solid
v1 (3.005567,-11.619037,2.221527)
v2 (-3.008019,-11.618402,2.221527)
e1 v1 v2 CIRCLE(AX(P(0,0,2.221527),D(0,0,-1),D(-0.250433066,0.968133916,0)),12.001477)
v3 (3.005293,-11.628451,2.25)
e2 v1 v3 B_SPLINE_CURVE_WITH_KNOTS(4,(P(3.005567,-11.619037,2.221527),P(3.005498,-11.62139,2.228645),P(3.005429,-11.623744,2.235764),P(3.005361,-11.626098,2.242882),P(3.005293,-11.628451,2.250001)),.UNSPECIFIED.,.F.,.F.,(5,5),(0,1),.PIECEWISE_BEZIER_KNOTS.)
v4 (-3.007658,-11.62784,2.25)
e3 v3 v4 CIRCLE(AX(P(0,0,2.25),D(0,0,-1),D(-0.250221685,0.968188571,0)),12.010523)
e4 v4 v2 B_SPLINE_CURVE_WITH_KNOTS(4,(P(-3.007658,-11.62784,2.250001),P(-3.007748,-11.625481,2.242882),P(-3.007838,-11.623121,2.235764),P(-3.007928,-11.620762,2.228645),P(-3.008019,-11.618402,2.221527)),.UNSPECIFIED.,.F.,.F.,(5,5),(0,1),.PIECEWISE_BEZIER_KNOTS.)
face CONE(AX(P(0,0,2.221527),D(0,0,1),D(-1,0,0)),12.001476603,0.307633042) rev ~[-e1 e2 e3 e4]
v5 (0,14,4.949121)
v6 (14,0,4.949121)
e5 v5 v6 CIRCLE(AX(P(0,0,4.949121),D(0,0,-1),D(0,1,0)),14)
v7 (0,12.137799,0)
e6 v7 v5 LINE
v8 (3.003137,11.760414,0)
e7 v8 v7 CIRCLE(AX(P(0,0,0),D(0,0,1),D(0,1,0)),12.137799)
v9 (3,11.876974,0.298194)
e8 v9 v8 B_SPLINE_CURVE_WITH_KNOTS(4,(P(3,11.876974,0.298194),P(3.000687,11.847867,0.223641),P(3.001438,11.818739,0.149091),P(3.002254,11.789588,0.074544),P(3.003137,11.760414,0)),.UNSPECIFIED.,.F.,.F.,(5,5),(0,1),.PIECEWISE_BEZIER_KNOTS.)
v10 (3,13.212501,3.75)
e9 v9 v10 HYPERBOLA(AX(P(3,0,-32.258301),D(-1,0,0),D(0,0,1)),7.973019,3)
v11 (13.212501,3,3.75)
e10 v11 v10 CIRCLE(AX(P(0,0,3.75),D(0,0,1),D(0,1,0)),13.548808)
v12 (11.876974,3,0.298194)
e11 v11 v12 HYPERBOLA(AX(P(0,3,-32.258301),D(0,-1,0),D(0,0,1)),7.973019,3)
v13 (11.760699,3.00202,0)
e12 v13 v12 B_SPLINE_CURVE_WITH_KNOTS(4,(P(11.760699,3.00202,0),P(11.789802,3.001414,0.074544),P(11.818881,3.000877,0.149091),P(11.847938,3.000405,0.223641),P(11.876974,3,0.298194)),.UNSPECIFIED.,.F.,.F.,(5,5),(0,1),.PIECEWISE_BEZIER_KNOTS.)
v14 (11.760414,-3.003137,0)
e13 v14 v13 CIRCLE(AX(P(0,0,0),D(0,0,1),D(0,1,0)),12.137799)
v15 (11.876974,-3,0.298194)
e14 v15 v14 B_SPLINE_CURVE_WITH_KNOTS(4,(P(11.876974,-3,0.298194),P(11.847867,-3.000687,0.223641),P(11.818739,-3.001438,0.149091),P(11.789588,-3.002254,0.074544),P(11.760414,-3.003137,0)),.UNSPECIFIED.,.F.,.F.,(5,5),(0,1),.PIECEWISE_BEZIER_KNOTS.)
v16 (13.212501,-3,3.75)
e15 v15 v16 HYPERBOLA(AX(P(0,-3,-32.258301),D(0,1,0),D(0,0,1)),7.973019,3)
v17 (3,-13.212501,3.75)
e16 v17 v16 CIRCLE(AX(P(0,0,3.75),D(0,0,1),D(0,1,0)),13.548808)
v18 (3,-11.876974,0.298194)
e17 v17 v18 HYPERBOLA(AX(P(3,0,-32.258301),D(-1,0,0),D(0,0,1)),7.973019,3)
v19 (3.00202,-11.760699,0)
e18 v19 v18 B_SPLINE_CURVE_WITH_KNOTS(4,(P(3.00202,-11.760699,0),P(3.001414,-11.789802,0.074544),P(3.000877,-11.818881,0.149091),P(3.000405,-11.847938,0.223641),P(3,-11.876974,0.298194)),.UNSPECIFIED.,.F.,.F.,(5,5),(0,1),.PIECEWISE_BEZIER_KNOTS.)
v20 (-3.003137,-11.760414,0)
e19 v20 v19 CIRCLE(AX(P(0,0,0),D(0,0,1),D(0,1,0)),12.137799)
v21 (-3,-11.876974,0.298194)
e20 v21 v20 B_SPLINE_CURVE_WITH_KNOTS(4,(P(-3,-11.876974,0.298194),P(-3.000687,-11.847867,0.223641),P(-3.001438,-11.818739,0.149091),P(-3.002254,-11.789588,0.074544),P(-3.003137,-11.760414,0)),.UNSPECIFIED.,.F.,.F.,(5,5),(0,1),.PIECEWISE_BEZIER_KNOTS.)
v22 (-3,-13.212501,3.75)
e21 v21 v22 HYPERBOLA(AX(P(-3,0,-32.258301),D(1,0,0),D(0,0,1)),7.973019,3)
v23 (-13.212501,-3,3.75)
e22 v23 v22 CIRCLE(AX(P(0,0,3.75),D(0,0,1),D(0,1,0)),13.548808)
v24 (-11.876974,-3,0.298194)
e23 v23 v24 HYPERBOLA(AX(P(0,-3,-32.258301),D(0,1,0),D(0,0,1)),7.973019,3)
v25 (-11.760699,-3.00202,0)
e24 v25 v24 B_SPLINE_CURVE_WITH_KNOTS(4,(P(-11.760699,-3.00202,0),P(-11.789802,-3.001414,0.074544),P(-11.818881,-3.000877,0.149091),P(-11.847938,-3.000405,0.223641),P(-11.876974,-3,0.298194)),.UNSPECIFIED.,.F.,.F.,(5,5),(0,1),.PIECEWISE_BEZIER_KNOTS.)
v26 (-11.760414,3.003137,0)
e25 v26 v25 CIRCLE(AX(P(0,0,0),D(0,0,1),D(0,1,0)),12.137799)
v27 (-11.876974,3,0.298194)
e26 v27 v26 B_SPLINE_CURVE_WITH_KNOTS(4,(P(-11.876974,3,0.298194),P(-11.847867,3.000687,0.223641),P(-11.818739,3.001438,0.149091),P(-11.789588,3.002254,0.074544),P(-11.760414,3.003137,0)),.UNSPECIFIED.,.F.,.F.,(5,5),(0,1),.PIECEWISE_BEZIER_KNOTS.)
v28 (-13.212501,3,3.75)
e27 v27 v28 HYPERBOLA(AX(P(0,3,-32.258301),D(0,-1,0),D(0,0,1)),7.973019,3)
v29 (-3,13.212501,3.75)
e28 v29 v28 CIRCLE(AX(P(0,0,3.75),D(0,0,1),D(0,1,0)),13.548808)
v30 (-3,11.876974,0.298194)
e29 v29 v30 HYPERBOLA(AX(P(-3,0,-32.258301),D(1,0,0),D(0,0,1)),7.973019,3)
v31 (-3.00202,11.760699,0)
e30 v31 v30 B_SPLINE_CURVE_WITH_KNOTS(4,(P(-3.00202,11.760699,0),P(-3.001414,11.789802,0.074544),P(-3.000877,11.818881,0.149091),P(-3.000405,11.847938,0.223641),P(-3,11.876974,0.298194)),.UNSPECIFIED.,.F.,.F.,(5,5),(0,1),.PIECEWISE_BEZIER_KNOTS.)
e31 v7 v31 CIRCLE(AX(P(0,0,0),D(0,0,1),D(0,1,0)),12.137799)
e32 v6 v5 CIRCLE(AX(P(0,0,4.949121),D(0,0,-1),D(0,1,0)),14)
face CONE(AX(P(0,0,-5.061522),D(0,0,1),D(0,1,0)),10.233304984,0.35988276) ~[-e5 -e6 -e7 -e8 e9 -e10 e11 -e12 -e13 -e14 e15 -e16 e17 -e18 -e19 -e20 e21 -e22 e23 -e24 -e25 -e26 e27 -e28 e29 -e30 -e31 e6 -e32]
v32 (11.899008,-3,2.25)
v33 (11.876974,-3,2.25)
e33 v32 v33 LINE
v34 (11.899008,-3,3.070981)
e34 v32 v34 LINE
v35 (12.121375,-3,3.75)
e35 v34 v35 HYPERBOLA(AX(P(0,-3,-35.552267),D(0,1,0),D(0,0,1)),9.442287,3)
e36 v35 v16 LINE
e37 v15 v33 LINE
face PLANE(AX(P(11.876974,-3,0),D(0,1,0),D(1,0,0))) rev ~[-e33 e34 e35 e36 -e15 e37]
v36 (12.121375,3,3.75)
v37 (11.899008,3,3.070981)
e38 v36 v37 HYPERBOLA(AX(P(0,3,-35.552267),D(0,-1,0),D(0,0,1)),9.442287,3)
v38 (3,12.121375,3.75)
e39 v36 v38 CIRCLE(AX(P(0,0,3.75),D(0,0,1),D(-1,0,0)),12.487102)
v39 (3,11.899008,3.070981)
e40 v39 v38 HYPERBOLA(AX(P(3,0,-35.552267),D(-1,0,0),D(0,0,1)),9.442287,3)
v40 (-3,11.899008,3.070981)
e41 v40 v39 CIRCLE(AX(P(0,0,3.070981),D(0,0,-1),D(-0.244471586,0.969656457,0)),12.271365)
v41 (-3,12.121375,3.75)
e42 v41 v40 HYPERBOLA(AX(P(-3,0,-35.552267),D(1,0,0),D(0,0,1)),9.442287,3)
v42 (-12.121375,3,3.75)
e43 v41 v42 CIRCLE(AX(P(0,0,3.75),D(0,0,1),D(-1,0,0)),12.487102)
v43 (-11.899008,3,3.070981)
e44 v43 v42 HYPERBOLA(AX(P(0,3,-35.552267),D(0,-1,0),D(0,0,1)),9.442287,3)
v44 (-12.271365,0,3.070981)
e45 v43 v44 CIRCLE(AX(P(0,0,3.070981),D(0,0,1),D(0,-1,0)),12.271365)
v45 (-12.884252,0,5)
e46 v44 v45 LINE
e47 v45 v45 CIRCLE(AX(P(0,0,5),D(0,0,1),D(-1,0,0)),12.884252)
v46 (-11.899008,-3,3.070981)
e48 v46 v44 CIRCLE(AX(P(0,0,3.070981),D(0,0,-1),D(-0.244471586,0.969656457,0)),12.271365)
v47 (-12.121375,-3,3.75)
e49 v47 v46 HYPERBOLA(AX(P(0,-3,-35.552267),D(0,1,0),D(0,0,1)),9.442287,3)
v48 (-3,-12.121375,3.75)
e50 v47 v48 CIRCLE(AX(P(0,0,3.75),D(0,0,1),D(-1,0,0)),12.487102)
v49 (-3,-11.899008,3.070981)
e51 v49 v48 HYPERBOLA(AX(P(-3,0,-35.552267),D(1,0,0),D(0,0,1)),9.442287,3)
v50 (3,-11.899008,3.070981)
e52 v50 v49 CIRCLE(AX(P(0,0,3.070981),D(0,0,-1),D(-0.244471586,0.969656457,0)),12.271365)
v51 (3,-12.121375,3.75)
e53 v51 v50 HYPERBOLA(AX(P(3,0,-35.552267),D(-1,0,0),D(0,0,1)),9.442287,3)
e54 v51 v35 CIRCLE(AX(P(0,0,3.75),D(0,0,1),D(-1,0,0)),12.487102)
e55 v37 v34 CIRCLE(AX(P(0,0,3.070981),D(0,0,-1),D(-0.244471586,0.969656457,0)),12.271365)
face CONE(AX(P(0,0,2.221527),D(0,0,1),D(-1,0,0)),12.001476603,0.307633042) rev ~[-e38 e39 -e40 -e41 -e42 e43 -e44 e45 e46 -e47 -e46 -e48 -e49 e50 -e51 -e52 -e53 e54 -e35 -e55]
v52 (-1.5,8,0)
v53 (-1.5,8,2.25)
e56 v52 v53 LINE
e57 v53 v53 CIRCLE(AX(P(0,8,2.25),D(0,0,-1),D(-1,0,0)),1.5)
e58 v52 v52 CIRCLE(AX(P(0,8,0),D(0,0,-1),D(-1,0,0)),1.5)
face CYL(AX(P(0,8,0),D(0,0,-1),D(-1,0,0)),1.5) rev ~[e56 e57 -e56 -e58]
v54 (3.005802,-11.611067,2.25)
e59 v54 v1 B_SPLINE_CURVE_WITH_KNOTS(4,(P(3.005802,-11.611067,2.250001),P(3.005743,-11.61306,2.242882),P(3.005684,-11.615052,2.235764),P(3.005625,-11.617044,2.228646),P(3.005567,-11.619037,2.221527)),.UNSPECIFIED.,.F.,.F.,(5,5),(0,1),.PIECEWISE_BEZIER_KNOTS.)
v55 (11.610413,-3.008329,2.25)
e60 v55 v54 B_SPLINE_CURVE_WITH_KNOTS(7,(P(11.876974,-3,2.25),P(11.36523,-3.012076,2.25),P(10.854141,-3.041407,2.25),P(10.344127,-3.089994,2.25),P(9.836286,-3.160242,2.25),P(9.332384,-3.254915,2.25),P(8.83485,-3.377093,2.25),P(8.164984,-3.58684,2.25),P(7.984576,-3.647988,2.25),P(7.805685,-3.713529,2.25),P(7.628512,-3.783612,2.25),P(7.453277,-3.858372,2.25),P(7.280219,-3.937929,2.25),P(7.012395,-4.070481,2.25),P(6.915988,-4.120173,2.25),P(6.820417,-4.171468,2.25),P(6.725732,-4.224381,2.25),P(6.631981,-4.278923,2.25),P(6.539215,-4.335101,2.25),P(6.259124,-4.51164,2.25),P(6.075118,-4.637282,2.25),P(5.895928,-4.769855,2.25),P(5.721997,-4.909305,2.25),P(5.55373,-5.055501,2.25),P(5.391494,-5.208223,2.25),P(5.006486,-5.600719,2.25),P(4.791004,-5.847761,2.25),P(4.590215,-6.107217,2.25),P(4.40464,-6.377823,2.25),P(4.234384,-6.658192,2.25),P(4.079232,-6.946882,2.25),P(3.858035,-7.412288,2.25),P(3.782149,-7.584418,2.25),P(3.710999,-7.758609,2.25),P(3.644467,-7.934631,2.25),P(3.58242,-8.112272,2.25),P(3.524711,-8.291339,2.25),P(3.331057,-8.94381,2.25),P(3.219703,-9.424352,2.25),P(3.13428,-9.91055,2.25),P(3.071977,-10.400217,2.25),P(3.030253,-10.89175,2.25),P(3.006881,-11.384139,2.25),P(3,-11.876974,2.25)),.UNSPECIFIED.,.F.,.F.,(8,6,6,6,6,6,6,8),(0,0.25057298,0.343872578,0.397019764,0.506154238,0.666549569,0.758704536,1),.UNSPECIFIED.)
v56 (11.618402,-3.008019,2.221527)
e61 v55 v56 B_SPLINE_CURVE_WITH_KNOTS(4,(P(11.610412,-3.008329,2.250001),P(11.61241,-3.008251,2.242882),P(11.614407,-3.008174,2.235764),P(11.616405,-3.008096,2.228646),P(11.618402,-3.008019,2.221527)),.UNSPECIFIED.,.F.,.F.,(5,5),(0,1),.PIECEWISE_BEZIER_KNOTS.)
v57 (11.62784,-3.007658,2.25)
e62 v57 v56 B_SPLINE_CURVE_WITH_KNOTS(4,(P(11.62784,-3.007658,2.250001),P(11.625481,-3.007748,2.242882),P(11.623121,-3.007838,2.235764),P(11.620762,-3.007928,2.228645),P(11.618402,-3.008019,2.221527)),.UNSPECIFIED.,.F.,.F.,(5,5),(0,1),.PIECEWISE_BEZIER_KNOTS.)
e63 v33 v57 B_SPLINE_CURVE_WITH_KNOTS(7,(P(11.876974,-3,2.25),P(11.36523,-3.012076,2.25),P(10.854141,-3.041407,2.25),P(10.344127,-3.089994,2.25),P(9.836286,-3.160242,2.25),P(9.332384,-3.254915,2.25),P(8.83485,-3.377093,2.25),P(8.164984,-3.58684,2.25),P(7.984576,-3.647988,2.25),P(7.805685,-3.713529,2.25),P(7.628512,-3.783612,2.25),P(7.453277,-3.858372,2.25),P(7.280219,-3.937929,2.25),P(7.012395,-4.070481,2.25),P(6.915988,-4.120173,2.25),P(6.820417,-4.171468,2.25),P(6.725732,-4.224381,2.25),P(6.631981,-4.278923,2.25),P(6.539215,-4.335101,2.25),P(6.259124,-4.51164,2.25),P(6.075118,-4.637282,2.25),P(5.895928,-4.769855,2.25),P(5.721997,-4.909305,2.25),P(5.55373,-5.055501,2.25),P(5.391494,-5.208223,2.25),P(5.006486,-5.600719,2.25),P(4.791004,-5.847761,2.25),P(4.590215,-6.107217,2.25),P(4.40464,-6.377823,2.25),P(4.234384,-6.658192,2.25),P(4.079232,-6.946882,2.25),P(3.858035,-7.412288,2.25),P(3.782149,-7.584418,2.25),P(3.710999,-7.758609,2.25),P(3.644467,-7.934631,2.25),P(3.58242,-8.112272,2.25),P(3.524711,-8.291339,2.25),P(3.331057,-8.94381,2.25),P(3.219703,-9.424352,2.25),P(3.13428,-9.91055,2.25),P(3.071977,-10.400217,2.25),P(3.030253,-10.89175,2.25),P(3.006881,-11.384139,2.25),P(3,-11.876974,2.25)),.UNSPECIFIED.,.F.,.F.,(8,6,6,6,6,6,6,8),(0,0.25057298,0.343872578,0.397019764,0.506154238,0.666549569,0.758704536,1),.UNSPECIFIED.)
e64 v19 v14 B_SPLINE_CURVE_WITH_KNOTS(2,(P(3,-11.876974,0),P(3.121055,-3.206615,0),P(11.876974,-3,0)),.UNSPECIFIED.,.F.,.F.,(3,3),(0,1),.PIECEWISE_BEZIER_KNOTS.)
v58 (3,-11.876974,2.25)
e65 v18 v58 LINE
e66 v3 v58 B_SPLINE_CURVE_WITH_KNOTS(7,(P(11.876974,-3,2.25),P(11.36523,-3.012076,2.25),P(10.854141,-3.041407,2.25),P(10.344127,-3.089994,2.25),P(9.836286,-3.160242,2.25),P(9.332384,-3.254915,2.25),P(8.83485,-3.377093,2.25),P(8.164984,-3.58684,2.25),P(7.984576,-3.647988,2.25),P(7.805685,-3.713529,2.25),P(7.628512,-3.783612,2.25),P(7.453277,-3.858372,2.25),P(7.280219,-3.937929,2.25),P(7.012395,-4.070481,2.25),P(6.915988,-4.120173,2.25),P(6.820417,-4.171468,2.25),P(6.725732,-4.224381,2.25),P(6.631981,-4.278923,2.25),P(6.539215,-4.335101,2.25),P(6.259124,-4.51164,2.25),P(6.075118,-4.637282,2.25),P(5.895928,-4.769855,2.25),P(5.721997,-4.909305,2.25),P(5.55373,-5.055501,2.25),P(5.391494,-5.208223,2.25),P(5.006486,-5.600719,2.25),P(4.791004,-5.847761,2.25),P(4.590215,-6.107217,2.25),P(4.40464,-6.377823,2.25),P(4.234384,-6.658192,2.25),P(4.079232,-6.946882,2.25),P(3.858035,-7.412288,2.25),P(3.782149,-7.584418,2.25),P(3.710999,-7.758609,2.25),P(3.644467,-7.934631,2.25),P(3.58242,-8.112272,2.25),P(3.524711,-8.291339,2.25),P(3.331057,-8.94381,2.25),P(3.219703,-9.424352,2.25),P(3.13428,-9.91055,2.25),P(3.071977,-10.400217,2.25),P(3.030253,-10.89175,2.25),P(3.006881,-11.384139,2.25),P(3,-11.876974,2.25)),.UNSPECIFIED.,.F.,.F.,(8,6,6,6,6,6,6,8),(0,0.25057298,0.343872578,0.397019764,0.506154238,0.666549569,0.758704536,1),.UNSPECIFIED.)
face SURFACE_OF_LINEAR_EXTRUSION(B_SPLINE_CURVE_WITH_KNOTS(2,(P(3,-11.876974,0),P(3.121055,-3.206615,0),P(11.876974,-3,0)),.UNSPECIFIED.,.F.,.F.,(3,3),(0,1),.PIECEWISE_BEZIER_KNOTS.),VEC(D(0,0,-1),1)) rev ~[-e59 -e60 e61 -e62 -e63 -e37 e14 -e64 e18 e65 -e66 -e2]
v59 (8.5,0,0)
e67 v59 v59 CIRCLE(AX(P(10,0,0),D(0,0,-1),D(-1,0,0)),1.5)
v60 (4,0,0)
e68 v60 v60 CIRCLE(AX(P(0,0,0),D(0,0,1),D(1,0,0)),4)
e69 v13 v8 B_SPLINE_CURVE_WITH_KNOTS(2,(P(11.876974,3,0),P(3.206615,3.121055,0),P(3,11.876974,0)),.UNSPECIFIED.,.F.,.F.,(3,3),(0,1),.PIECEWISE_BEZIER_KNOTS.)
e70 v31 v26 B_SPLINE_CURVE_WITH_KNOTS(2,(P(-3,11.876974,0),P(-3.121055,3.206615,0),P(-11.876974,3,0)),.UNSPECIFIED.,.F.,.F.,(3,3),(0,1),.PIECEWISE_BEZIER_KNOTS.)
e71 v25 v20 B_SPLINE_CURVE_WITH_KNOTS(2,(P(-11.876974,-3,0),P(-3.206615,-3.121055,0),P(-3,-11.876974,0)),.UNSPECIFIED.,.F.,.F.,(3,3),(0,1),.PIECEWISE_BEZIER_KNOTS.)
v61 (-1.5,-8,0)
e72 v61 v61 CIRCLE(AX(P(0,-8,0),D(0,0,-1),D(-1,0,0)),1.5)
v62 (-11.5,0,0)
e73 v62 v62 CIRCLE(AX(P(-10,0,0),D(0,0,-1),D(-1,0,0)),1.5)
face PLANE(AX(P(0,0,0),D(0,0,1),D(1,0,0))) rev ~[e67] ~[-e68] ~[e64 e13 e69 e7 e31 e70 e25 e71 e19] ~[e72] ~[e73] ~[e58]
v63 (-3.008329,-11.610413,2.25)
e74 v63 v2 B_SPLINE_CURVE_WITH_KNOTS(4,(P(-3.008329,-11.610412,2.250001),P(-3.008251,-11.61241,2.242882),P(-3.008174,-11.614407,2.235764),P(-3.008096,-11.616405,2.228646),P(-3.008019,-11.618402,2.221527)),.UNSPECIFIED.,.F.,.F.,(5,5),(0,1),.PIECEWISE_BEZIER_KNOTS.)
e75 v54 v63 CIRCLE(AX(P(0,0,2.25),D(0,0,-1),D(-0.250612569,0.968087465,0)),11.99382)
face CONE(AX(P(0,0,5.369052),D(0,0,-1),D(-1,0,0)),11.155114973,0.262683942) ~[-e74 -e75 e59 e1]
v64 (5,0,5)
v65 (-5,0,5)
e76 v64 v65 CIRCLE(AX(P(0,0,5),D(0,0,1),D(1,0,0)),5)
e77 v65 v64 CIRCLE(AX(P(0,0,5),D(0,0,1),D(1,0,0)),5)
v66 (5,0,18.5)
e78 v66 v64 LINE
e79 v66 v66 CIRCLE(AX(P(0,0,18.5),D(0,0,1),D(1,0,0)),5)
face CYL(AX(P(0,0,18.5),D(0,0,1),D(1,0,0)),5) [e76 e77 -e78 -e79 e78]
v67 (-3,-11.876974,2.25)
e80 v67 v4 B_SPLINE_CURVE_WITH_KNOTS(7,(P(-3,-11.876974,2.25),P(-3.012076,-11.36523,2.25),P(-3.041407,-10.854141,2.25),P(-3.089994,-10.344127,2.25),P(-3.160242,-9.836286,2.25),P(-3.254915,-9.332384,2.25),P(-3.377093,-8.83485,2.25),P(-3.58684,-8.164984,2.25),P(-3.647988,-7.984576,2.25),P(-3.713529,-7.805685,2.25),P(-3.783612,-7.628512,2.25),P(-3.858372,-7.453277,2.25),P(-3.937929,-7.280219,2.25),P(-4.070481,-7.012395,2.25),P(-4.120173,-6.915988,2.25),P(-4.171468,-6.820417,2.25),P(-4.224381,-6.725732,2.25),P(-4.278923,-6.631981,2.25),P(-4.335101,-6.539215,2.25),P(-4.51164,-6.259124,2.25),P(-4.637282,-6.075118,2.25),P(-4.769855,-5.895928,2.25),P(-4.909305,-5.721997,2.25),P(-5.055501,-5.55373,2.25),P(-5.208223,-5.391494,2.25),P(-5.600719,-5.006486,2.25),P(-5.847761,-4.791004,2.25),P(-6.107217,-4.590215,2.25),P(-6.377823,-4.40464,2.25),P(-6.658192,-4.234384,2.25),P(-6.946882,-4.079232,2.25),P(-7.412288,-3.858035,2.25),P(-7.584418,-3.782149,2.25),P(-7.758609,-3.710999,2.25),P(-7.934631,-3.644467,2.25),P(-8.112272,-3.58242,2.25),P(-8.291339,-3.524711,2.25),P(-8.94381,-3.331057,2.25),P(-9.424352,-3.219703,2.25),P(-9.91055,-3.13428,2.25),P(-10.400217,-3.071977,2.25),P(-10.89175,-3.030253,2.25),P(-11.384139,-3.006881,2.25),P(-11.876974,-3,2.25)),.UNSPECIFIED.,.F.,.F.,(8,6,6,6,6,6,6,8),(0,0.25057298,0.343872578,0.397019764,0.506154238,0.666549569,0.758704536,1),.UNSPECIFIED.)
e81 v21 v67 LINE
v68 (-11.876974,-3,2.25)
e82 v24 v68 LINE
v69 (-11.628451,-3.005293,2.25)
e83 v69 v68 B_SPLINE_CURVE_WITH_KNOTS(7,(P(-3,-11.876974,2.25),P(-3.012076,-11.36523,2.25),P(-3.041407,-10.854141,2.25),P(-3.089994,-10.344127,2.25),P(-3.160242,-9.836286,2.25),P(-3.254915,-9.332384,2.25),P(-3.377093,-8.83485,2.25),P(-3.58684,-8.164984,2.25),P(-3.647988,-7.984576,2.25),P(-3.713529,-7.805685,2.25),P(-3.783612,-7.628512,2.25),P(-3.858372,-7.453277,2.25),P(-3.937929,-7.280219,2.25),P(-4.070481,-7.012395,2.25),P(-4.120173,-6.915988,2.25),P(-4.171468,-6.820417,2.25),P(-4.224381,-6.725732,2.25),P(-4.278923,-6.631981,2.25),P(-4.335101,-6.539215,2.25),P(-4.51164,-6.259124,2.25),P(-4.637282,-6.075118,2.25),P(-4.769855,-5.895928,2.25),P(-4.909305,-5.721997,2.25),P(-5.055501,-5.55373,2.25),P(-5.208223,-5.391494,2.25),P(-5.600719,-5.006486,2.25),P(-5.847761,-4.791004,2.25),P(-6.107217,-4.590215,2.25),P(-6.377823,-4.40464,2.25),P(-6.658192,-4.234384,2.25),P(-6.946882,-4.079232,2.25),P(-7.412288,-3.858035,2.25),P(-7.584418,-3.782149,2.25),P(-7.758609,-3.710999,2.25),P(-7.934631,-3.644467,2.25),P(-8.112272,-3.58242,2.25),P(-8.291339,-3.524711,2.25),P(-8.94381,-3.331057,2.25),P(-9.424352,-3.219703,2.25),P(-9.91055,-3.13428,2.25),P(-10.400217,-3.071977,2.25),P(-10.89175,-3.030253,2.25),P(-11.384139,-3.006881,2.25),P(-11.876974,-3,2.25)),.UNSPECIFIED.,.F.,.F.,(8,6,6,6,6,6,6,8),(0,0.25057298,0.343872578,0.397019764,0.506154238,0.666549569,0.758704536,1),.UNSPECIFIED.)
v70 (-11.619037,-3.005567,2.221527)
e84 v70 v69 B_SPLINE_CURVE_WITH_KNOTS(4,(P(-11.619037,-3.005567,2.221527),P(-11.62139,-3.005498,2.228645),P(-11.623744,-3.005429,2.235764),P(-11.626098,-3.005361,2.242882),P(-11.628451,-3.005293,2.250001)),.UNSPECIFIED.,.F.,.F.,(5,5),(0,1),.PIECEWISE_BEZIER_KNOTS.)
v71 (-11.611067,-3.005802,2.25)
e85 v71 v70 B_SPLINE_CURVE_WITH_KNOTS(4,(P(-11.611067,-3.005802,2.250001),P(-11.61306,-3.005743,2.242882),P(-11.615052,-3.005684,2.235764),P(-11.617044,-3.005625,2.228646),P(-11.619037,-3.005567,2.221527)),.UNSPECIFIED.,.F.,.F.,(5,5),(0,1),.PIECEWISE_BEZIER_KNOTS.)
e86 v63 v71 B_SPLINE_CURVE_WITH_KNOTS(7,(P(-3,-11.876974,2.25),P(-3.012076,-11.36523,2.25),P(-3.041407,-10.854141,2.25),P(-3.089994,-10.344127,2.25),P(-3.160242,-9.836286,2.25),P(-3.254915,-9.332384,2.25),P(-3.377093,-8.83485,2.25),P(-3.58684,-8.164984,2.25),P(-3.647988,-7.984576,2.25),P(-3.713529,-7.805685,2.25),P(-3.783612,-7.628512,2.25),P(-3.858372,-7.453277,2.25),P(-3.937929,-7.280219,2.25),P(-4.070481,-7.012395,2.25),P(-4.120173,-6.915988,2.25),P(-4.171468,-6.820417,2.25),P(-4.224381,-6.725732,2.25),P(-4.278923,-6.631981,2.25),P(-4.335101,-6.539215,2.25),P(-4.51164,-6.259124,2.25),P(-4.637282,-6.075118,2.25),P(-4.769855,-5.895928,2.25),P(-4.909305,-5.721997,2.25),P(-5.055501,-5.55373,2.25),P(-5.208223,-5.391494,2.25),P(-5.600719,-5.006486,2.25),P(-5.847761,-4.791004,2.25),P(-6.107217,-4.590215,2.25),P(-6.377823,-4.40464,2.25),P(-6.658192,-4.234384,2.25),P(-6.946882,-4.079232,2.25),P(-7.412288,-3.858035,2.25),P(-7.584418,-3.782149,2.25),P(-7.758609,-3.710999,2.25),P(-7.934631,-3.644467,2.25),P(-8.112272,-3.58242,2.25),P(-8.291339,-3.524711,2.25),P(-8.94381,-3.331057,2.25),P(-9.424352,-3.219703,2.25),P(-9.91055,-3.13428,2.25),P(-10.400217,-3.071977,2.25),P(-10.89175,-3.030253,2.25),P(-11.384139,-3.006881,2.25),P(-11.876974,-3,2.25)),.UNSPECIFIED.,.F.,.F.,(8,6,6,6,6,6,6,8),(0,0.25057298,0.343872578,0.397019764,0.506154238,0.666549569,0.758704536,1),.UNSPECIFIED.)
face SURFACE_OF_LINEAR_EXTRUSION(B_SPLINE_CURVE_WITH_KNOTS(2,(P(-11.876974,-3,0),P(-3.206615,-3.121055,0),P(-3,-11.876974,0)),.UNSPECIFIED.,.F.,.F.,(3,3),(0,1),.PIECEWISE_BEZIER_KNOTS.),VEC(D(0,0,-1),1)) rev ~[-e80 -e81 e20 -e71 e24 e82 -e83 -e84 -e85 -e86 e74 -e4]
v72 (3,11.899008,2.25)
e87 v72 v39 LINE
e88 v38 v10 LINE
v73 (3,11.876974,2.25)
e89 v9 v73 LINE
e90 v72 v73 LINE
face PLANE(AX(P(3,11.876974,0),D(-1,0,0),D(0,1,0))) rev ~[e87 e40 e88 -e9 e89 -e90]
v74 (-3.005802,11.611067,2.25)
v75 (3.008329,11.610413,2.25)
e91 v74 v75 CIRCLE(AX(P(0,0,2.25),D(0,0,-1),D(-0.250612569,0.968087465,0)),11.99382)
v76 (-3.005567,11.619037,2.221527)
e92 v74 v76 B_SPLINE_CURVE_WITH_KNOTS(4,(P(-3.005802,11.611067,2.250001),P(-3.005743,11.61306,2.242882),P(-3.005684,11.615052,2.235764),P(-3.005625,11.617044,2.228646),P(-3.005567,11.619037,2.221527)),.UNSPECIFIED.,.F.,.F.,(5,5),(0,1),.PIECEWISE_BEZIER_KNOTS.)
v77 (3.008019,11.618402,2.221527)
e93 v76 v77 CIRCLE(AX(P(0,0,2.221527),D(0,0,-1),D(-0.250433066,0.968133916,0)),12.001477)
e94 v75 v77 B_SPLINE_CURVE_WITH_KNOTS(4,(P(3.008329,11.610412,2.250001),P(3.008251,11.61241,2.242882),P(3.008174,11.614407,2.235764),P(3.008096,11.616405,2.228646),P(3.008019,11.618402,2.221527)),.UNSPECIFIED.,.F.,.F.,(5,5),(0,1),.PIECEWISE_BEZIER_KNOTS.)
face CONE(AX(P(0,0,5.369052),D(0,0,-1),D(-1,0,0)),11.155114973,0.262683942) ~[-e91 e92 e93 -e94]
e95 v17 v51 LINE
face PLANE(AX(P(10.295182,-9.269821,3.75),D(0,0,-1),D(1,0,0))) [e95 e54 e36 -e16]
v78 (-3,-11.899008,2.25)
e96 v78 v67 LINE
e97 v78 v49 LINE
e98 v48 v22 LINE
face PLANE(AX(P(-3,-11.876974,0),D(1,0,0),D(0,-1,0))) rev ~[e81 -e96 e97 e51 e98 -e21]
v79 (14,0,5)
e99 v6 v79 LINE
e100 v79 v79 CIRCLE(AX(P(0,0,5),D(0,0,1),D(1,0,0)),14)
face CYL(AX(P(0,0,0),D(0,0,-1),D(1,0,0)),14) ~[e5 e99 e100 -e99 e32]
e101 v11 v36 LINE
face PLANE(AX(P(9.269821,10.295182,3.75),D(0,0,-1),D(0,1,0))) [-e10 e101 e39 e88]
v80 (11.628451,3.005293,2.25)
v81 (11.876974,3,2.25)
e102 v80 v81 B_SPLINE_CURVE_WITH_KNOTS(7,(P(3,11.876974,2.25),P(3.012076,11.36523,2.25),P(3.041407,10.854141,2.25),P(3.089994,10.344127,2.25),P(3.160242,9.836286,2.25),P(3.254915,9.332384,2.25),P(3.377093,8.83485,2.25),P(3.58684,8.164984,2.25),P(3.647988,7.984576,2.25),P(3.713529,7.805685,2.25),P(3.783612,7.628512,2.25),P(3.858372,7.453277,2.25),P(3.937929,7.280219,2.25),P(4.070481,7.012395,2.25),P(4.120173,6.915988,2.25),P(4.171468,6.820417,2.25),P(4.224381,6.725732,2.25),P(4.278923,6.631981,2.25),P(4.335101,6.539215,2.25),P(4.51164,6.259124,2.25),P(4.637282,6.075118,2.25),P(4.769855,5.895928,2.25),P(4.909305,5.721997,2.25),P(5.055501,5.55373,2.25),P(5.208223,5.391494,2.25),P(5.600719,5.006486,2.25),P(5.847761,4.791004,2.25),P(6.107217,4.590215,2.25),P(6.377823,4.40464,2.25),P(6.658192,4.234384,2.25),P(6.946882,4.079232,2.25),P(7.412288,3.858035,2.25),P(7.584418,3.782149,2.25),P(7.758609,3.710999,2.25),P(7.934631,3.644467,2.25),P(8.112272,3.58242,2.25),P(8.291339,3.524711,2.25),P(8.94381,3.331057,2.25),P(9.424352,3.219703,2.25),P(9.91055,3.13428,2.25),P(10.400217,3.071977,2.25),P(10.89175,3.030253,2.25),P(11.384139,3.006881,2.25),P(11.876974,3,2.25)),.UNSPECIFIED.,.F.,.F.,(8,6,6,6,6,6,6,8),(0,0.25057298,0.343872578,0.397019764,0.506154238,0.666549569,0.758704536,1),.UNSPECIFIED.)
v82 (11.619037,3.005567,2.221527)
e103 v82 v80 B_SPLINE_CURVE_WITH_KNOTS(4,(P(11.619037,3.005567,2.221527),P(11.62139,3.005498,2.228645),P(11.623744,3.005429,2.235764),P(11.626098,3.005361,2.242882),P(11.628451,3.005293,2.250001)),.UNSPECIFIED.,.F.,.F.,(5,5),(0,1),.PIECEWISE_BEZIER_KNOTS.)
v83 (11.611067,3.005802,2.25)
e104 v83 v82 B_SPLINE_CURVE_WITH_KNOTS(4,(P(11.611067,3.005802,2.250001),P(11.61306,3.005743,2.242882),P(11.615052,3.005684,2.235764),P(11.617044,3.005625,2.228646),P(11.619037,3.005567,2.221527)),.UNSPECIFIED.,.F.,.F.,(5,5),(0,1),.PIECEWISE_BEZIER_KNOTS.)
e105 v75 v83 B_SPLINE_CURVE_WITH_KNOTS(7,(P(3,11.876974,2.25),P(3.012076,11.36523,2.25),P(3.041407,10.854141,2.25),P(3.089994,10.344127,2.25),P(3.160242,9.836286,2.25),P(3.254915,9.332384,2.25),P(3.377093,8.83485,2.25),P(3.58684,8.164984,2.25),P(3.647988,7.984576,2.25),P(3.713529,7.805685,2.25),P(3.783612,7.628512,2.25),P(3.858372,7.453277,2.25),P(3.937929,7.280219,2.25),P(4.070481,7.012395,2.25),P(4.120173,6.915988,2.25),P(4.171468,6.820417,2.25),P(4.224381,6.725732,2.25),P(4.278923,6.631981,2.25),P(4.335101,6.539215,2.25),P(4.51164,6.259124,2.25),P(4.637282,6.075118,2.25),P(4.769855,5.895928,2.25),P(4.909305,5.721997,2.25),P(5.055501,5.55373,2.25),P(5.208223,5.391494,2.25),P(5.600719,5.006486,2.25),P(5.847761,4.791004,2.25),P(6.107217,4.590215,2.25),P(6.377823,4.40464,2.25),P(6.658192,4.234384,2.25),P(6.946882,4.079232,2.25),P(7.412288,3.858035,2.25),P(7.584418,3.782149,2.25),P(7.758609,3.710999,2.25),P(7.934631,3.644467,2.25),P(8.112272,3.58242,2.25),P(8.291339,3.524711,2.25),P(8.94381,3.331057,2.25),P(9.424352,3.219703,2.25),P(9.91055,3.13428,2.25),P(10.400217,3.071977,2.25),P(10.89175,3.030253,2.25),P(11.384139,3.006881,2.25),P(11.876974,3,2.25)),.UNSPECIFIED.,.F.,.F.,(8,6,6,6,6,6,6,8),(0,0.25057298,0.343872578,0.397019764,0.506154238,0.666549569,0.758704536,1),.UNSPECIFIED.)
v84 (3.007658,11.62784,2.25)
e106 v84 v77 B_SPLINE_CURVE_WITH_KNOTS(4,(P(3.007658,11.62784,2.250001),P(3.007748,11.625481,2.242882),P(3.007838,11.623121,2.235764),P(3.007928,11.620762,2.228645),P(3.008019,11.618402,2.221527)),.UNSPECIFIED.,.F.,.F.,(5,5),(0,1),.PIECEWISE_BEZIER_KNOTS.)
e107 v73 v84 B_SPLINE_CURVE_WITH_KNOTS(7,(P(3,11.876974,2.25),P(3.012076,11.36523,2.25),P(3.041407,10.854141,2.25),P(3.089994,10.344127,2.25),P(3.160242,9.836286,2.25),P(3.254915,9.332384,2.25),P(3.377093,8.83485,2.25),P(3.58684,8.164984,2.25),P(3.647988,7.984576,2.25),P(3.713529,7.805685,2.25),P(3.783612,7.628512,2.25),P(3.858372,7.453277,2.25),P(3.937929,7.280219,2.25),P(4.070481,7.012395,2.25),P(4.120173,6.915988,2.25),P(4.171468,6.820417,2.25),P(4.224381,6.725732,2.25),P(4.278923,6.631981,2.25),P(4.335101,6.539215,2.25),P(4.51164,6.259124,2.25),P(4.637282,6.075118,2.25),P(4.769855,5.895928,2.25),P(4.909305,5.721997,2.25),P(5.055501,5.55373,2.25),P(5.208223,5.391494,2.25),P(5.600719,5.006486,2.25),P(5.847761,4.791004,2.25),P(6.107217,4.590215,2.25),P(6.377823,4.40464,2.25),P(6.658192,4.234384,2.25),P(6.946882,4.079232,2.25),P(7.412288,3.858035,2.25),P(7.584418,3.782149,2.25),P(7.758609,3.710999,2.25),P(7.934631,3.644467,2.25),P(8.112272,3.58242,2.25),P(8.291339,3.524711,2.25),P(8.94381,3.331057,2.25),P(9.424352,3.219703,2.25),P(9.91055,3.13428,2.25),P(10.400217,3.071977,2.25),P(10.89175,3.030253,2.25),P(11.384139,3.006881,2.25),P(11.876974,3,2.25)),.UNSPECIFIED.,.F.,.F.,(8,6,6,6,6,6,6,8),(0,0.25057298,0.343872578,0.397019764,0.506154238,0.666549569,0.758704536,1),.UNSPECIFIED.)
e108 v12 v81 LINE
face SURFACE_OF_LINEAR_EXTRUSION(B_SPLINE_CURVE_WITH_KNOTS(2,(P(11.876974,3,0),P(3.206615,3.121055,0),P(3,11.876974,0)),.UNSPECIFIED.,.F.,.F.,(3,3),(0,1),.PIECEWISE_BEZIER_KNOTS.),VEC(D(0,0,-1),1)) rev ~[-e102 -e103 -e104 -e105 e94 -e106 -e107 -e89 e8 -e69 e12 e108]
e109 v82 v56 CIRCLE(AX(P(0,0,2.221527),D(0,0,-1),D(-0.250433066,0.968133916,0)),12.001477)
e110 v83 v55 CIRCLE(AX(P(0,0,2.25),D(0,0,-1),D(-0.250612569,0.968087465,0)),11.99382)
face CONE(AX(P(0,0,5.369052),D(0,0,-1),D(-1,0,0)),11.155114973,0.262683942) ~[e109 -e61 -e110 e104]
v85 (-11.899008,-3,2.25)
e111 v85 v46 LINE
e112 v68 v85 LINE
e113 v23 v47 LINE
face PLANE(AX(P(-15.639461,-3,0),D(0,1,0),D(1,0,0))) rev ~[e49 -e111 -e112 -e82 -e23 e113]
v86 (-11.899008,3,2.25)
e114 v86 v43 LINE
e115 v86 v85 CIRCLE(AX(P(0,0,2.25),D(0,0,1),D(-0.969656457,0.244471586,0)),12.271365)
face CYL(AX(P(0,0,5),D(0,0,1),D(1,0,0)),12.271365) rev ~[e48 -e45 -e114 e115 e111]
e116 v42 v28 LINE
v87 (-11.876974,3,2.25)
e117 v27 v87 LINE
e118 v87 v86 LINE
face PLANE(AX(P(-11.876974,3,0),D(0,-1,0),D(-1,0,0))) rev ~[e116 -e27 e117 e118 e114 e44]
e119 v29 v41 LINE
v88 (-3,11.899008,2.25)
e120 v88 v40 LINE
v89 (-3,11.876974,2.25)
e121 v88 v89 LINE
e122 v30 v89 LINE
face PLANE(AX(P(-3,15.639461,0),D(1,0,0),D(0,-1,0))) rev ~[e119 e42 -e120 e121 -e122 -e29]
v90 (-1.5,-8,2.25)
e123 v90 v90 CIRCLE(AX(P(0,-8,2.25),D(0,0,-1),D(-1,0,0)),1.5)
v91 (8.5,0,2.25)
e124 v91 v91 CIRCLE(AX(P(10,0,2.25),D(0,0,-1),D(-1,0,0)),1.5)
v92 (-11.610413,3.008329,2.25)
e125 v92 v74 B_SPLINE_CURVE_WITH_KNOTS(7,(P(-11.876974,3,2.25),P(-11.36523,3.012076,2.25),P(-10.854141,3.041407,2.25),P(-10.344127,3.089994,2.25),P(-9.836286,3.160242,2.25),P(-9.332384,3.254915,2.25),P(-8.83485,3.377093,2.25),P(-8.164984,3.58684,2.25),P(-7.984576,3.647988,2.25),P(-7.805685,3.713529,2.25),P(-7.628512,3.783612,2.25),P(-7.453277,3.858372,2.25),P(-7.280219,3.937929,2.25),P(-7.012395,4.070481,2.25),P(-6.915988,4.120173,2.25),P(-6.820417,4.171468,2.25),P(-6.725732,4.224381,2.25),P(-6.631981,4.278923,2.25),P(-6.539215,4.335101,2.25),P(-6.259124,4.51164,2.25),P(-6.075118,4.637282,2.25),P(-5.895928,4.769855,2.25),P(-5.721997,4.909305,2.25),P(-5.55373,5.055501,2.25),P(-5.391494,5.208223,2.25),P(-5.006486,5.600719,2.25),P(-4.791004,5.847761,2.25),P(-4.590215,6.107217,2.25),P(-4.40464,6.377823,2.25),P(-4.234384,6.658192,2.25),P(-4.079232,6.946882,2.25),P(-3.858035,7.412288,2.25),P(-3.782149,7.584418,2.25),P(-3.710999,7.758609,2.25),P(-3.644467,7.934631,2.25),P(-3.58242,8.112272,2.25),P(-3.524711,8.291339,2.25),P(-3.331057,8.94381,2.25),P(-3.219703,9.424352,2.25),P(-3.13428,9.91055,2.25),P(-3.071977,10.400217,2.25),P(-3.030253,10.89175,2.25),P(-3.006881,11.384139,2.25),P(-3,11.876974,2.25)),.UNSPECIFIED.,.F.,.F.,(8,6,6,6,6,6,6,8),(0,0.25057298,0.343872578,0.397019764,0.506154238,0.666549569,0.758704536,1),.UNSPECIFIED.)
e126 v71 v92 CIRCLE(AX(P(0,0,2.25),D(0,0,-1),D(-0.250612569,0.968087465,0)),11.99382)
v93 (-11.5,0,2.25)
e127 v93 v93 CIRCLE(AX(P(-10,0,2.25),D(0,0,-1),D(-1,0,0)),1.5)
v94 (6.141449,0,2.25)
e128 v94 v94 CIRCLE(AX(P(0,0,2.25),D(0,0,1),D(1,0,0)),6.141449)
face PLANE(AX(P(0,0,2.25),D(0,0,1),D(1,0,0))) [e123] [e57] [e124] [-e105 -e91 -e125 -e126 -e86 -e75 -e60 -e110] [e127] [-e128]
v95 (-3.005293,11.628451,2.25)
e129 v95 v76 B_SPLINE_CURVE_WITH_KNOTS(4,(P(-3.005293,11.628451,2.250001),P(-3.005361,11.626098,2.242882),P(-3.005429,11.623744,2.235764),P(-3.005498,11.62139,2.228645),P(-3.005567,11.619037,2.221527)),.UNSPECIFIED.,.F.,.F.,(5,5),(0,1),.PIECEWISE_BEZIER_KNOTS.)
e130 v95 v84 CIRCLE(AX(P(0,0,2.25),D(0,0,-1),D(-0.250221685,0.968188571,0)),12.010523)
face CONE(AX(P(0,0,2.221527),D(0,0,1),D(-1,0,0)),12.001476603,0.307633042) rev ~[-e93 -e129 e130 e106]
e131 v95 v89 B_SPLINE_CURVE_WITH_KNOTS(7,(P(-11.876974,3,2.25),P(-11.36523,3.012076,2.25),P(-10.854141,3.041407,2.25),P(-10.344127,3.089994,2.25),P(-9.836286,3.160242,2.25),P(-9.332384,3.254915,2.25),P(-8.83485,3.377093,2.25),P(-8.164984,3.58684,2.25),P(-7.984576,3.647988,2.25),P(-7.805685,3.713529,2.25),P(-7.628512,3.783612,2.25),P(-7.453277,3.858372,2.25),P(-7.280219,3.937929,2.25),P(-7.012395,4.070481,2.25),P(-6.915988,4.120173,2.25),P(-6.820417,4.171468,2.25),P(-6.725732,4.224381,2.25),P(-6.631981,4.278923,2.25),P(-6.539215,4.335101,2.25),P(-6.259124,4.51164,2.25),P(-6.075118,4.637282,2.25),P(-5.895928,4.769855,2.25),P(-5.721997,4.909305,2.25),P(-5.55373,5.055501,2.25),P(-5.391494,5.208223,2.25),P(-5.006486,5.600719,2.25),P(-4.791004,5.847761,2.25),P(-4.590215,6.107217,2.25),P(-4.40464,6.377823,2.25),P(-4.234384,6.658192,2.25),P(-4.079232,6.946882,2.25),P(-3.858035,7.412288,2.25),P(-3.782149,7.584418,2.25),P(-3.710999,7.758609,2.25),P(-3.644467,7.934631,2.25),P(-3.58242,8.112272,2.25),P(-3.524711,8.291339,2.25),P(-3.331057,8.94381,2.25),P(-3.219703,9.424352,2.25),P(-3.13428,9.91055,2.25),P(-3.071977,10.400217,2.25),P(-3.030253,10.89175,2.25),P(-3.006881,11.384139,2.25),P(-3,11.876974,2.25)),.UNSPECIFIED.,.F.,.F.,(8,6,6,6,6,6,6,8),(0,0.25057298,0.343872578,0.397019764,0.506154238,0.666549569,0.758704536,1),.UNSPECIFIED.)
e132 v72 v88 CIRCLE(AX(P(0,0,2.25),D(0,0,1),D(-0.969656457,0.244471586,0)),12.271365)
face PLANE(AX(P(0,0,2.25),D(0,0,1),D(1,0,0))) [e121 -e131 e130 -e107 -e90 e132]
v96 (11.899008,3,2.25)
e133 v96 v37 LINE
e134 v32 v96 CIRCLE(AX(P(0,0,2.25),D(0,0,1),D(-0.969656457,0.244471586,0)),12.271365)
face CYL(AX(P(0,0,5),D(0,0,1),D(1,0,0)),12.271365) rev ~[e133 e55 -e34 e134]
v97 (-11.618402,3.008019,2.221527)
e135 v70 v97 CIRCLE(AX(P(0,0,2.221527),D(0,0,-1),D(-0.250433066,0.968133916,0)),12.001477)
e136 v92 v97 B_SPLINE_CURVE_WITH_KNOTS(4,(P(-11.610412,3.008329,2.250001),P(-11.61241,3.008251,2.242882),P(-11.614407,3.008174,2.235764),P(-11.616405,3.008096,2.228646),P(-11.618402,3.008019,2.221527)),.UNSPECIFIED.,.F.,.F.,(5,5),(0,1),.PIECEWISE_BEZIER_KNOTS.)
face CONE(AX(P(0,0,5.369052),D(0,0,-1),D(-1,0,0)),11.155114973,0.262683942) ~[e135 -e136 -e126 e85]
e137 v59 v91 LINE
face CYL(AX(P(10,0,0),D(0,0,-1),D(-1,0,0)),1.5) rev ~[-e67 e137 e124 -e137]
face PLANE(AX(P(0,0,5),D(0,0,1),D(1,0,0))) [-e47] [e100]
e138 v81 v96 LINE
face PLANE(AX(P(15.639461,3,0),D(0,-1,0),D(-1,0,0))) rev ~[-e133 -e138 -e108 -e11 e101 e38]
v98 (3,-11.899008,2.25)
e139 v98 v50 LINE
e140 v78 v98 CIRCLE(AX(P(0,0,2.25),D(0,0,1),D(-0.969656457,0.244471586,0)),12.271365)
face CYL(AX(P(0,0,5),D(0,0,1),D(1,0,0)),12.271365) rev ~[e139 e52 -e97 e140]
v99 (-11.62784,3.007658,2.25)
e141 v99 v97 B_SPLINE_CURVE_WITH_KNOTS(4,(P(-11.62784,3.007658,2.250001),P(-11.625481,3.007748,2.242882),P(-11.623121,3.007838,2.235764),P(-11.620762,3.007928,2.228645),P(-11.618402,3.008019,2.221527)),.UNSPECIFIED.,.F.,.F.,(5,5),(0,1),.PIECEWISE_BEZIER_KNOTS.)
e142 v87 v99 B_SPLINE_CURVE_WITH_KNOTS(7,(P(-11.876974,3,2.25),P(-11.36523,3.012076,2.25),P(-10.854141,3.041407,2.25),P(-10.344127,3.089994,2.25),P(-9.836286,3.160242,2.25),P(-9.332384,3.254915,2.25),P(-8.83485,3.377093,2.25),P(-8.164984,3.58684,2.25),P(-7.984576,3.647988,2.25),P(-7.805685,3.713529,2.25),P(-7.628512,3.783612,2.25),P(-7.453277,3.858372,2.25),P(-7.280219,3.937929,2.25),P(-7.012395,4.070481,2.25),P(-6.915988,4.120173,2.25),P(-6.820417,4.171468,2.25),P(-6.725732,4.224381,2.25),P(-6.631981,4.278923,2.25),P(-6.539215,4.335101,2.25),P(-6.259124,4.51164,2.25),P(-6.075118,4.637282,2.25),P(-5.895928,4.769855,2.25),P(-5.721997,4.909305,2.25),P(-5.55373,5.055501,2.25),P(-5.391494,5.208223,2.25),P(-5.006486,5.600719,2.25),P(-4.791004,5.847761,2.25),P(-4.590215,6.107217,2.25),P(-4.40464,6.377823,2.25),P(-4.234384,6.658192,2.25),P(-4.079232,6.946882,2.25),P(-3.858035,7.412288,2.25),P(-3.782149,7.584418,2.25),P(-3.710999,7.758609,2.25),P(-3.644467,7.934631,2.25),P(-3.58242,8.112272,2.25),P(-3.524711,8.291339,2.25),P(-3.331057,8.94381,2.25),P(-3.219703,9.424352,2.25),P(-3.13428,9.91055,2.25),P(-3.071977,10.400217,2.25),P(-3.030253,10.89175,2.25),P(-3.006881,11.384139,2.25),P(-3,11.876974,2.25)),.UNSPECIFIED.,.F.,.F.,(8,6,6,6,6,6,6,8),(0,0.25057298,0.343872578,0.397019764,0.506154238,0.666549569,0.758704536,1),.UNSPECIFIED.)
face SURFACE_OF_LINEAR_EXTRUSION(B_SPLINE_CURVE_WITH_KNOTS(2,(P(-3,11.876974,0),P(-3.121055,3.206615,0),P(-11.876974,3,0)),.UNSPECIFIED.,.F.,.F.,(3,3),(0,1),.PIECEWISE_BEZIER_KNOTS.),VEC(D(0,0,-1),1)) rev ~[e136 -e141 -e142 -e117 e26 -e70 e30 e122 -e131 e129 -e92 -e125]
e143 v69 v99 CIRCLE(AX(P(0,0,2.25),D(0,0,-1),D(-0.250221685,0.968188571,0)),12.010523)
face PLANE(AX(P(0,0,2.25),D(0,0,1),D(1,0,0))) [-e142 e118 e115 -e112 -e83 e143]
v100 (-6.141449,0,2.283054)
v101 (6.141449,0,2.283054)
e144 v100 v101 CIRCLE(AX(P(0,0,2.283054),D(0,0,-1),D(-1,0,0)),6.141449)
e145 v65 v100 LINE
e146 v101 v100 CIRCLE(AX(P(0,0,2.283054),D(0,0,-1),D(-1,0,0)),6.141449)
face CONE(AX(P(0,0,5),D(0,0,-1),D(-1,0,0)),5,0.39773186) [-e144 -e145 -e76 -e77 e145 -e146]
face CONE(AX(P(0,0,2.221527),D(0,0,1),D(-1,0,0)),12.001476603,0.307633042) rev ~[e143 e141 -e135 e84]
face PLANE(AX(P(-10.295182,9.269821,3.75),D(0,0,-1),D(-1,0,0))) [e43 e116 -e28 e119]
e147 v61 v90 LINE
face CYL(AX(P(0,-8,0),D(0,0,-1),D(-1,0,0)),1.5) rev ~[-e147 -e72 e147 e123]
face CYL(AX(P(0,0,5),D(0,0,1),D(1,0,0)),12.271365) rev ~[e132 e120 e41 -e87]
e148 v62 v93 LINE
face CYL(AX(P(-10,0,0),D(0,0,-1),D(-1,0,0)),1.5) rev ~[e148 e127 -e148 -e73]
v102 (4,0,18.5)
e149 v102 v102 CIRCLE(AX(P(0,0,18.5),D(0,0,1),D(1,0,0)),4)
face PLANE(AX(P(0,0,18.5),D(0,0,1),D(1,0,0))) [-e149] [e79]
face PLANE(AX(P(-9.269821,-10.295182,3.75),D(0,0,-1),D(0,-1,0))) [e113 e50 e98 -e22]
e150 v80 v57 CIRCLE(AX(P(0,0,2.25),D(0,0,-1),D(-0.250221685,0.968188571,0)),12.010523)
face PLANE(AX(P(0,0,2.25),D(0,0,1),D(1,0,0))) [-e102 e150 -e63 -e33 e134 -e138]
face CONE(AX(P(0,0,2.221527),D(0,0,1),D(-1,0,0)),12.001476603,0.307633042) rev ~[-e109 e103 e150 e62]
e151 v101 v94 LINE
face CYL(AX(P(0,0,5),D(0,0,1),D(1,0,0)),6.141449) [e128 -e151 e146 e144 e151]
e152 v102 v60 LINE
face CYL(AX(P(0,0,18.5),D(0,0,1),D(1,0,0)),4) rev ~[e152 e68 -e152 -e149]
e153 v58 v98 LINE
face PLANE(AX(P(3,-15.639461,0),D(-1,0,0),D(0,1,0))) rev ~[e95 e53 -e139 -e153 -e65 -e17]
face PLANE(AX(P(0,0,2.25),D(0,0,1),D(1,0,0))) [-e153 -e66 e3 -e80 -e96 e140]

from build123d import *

# Parameters (mm, degrees)
SKETCH1_R           = 14
BOSS_EXTRUDE1_DEPTH = 18.5
SKETCH2_R           = 14
SKETCH2_R_2         = 5
CUT_EXTRUDE1_DEPTH  = 13.5
SKETCH3_R           = 4
CUT_EXTRUDE2_DEPTH  = 22.5
CUT_EXTRUDE3_DEPTH  = 3.75
SKETCH8_R           = 12.271364757
SKETCH8_R_2         = 6.141449245
CUT_EXTRUDE4_DEPTH  = 2.75
CIRPATTERN1_COUNT   = 4
SKETCH11_R          = 1.5
CUT_EXTRUDE5_DEPTH  = 3


with BuildPart() as part:
    # Sketch1 → Boss-Extrude1 (new body)
    with BuildSketch(Plane.XY):
        Circle(SKETCH1_R)
    extrude(amount=BOSS_EXTRUDE1_DEPTH)

    # Sketch2 → Cut-Extrude1 (cut)
    with BuildSketch(Plane.XY.offset(18.5)):
        Circle(SKETCH2_R)
        Circle(SKETCH2_R_2, mode=Mode.SUBTRACT)
    extrude(amount=-CUT_EXTRUDE1_DEPTH, mode=Mode.SUBTRACT)

    # Sketch3 → Cut-Extrude2 (cut)
    with BuildSketch(Plane.XY.offset(18.5)):
        Circle(SKETCH3_R)
    extrude(amount=-CUT_EXTRUDE2_DEPTH, mode=Mode.SUBTRACT)

    # Sketch6 → Cut-Revolve1 (revolve, cut)
    with BuildSketch(Plane(origin=(0, 0, 0), x_dir=(0, 0, -1), z_dir=(1, 0, 0))):
        Polygon((-4.949121361, 14), (3.777639186, 16.199586118), (5.061522468, 10.233304984), align=None)
    revolve(axis=Axis((0, 0, 19.921792725), (0, 0, -1)), mode=Mode.SUBTRACT)

    # Sketch7 → Cut-Extrude3 (cut)
    with BuildSketch(Plane(origin=(0, 0, 0), x_dir=(-1, 0, 0), z_dir=(0, 0, -1))):
        with BuildLine():
            Line((3, 15.639460569), (3, 11.87697352))
            add(Edge.make_bspline(
                [(3, 11.87697352), (3.121054504, 3.206614769), (11.87697352, 3)],
                knots=[0, 0, 0, 1, 1, 1], degree=2))
            Line((11.87697352, 3), (17.86108213, 3))
            Line((17.86108213, 3), (14.869027825, 14.316513241))
            Line((14.869027825, 14.316513241), (3, 15.639460569))
        make_face()
    cut_extrude3 = extrude(amount=-CUT_EXTRUDE3_DEPTH, mode=Mode.SUBTRACT)

    # Sketch8 → Cut-Extrude4 (cut)
    with BuildSketch(Plane.XY.offset(5)):
        Circle(SKETCH8_R)
        Circle(SKETCH8_R_2, mode=Mode.SUBTRACT)
    extrude(amount=-CUT_EXTRUDE4_DEPTH, mode=Mode.SUBTRACT)

    # Sketch9 → Cut-Revolve2 (revolve, cut)
    with BuildSketch(Plane(origin=(0, 0, 0), x_dir=(1, 0, 0), z_dir=(0, 1, 0))):
        Polygon((-12.001476603, -2.22152714), (-13.001507243, -5.36905248), (-11.155114973, -5.36905248), align=None)
    revolve(axis=Axis((0, 0, -1.742471472), (0, 0, 1)), mode=Mode.SUBTRACT)

    # Sketch10 → Cut-Revolve3 (revolve, cut)
    with BuildSketch(Plane(origin=(0, 0, 0), x_dir=(1, 0, 0), z_dir=(0, 1, 0))):
        Polygon((-5, -5), (-6.141449245, -2.28305418), (-6.572257958, -5.413209842), align=None)
    revolve(axis=Axis((0, 0, 0), (0, 0, -1)), mode=Mode.SUBTRACT)

    # CirPattern1: Cut-Extrude3 ×4 about axis
    cirpattern1_axis = Axis((0, 0, 3.75), (0, 0, 1))
    for i in range(1, CIRPATTERN1_COUNT):
        add(cut_extrude3.rotate(cirpattern1_axis, i * 360 / CIRPATTERN1_COUNT), mode=Mode.SUBTRACT)

    # Sketch11 → Cut-Extrude5 (cut)
    with BuildSketch(Plane(origin=(0, 0, 0), x_dir=(-1, 0, 0), z_dir=(0, 0, -1))):
        with Locations((0, 8)):
            Circle(SKETCH11_R)
        with Locations((0, -8)):
            Circle(SKETCH11_R)
        with Locations((-10, 0)):
            Circle(SKETCH11_R)
        with Locations((10, 0)):
            Circle(SKETCH11_R)
    extrude(amount=-CUT_EXTRUDE5_DEPTH, mode=Mode.SUBTRACT)


solid = part.part
